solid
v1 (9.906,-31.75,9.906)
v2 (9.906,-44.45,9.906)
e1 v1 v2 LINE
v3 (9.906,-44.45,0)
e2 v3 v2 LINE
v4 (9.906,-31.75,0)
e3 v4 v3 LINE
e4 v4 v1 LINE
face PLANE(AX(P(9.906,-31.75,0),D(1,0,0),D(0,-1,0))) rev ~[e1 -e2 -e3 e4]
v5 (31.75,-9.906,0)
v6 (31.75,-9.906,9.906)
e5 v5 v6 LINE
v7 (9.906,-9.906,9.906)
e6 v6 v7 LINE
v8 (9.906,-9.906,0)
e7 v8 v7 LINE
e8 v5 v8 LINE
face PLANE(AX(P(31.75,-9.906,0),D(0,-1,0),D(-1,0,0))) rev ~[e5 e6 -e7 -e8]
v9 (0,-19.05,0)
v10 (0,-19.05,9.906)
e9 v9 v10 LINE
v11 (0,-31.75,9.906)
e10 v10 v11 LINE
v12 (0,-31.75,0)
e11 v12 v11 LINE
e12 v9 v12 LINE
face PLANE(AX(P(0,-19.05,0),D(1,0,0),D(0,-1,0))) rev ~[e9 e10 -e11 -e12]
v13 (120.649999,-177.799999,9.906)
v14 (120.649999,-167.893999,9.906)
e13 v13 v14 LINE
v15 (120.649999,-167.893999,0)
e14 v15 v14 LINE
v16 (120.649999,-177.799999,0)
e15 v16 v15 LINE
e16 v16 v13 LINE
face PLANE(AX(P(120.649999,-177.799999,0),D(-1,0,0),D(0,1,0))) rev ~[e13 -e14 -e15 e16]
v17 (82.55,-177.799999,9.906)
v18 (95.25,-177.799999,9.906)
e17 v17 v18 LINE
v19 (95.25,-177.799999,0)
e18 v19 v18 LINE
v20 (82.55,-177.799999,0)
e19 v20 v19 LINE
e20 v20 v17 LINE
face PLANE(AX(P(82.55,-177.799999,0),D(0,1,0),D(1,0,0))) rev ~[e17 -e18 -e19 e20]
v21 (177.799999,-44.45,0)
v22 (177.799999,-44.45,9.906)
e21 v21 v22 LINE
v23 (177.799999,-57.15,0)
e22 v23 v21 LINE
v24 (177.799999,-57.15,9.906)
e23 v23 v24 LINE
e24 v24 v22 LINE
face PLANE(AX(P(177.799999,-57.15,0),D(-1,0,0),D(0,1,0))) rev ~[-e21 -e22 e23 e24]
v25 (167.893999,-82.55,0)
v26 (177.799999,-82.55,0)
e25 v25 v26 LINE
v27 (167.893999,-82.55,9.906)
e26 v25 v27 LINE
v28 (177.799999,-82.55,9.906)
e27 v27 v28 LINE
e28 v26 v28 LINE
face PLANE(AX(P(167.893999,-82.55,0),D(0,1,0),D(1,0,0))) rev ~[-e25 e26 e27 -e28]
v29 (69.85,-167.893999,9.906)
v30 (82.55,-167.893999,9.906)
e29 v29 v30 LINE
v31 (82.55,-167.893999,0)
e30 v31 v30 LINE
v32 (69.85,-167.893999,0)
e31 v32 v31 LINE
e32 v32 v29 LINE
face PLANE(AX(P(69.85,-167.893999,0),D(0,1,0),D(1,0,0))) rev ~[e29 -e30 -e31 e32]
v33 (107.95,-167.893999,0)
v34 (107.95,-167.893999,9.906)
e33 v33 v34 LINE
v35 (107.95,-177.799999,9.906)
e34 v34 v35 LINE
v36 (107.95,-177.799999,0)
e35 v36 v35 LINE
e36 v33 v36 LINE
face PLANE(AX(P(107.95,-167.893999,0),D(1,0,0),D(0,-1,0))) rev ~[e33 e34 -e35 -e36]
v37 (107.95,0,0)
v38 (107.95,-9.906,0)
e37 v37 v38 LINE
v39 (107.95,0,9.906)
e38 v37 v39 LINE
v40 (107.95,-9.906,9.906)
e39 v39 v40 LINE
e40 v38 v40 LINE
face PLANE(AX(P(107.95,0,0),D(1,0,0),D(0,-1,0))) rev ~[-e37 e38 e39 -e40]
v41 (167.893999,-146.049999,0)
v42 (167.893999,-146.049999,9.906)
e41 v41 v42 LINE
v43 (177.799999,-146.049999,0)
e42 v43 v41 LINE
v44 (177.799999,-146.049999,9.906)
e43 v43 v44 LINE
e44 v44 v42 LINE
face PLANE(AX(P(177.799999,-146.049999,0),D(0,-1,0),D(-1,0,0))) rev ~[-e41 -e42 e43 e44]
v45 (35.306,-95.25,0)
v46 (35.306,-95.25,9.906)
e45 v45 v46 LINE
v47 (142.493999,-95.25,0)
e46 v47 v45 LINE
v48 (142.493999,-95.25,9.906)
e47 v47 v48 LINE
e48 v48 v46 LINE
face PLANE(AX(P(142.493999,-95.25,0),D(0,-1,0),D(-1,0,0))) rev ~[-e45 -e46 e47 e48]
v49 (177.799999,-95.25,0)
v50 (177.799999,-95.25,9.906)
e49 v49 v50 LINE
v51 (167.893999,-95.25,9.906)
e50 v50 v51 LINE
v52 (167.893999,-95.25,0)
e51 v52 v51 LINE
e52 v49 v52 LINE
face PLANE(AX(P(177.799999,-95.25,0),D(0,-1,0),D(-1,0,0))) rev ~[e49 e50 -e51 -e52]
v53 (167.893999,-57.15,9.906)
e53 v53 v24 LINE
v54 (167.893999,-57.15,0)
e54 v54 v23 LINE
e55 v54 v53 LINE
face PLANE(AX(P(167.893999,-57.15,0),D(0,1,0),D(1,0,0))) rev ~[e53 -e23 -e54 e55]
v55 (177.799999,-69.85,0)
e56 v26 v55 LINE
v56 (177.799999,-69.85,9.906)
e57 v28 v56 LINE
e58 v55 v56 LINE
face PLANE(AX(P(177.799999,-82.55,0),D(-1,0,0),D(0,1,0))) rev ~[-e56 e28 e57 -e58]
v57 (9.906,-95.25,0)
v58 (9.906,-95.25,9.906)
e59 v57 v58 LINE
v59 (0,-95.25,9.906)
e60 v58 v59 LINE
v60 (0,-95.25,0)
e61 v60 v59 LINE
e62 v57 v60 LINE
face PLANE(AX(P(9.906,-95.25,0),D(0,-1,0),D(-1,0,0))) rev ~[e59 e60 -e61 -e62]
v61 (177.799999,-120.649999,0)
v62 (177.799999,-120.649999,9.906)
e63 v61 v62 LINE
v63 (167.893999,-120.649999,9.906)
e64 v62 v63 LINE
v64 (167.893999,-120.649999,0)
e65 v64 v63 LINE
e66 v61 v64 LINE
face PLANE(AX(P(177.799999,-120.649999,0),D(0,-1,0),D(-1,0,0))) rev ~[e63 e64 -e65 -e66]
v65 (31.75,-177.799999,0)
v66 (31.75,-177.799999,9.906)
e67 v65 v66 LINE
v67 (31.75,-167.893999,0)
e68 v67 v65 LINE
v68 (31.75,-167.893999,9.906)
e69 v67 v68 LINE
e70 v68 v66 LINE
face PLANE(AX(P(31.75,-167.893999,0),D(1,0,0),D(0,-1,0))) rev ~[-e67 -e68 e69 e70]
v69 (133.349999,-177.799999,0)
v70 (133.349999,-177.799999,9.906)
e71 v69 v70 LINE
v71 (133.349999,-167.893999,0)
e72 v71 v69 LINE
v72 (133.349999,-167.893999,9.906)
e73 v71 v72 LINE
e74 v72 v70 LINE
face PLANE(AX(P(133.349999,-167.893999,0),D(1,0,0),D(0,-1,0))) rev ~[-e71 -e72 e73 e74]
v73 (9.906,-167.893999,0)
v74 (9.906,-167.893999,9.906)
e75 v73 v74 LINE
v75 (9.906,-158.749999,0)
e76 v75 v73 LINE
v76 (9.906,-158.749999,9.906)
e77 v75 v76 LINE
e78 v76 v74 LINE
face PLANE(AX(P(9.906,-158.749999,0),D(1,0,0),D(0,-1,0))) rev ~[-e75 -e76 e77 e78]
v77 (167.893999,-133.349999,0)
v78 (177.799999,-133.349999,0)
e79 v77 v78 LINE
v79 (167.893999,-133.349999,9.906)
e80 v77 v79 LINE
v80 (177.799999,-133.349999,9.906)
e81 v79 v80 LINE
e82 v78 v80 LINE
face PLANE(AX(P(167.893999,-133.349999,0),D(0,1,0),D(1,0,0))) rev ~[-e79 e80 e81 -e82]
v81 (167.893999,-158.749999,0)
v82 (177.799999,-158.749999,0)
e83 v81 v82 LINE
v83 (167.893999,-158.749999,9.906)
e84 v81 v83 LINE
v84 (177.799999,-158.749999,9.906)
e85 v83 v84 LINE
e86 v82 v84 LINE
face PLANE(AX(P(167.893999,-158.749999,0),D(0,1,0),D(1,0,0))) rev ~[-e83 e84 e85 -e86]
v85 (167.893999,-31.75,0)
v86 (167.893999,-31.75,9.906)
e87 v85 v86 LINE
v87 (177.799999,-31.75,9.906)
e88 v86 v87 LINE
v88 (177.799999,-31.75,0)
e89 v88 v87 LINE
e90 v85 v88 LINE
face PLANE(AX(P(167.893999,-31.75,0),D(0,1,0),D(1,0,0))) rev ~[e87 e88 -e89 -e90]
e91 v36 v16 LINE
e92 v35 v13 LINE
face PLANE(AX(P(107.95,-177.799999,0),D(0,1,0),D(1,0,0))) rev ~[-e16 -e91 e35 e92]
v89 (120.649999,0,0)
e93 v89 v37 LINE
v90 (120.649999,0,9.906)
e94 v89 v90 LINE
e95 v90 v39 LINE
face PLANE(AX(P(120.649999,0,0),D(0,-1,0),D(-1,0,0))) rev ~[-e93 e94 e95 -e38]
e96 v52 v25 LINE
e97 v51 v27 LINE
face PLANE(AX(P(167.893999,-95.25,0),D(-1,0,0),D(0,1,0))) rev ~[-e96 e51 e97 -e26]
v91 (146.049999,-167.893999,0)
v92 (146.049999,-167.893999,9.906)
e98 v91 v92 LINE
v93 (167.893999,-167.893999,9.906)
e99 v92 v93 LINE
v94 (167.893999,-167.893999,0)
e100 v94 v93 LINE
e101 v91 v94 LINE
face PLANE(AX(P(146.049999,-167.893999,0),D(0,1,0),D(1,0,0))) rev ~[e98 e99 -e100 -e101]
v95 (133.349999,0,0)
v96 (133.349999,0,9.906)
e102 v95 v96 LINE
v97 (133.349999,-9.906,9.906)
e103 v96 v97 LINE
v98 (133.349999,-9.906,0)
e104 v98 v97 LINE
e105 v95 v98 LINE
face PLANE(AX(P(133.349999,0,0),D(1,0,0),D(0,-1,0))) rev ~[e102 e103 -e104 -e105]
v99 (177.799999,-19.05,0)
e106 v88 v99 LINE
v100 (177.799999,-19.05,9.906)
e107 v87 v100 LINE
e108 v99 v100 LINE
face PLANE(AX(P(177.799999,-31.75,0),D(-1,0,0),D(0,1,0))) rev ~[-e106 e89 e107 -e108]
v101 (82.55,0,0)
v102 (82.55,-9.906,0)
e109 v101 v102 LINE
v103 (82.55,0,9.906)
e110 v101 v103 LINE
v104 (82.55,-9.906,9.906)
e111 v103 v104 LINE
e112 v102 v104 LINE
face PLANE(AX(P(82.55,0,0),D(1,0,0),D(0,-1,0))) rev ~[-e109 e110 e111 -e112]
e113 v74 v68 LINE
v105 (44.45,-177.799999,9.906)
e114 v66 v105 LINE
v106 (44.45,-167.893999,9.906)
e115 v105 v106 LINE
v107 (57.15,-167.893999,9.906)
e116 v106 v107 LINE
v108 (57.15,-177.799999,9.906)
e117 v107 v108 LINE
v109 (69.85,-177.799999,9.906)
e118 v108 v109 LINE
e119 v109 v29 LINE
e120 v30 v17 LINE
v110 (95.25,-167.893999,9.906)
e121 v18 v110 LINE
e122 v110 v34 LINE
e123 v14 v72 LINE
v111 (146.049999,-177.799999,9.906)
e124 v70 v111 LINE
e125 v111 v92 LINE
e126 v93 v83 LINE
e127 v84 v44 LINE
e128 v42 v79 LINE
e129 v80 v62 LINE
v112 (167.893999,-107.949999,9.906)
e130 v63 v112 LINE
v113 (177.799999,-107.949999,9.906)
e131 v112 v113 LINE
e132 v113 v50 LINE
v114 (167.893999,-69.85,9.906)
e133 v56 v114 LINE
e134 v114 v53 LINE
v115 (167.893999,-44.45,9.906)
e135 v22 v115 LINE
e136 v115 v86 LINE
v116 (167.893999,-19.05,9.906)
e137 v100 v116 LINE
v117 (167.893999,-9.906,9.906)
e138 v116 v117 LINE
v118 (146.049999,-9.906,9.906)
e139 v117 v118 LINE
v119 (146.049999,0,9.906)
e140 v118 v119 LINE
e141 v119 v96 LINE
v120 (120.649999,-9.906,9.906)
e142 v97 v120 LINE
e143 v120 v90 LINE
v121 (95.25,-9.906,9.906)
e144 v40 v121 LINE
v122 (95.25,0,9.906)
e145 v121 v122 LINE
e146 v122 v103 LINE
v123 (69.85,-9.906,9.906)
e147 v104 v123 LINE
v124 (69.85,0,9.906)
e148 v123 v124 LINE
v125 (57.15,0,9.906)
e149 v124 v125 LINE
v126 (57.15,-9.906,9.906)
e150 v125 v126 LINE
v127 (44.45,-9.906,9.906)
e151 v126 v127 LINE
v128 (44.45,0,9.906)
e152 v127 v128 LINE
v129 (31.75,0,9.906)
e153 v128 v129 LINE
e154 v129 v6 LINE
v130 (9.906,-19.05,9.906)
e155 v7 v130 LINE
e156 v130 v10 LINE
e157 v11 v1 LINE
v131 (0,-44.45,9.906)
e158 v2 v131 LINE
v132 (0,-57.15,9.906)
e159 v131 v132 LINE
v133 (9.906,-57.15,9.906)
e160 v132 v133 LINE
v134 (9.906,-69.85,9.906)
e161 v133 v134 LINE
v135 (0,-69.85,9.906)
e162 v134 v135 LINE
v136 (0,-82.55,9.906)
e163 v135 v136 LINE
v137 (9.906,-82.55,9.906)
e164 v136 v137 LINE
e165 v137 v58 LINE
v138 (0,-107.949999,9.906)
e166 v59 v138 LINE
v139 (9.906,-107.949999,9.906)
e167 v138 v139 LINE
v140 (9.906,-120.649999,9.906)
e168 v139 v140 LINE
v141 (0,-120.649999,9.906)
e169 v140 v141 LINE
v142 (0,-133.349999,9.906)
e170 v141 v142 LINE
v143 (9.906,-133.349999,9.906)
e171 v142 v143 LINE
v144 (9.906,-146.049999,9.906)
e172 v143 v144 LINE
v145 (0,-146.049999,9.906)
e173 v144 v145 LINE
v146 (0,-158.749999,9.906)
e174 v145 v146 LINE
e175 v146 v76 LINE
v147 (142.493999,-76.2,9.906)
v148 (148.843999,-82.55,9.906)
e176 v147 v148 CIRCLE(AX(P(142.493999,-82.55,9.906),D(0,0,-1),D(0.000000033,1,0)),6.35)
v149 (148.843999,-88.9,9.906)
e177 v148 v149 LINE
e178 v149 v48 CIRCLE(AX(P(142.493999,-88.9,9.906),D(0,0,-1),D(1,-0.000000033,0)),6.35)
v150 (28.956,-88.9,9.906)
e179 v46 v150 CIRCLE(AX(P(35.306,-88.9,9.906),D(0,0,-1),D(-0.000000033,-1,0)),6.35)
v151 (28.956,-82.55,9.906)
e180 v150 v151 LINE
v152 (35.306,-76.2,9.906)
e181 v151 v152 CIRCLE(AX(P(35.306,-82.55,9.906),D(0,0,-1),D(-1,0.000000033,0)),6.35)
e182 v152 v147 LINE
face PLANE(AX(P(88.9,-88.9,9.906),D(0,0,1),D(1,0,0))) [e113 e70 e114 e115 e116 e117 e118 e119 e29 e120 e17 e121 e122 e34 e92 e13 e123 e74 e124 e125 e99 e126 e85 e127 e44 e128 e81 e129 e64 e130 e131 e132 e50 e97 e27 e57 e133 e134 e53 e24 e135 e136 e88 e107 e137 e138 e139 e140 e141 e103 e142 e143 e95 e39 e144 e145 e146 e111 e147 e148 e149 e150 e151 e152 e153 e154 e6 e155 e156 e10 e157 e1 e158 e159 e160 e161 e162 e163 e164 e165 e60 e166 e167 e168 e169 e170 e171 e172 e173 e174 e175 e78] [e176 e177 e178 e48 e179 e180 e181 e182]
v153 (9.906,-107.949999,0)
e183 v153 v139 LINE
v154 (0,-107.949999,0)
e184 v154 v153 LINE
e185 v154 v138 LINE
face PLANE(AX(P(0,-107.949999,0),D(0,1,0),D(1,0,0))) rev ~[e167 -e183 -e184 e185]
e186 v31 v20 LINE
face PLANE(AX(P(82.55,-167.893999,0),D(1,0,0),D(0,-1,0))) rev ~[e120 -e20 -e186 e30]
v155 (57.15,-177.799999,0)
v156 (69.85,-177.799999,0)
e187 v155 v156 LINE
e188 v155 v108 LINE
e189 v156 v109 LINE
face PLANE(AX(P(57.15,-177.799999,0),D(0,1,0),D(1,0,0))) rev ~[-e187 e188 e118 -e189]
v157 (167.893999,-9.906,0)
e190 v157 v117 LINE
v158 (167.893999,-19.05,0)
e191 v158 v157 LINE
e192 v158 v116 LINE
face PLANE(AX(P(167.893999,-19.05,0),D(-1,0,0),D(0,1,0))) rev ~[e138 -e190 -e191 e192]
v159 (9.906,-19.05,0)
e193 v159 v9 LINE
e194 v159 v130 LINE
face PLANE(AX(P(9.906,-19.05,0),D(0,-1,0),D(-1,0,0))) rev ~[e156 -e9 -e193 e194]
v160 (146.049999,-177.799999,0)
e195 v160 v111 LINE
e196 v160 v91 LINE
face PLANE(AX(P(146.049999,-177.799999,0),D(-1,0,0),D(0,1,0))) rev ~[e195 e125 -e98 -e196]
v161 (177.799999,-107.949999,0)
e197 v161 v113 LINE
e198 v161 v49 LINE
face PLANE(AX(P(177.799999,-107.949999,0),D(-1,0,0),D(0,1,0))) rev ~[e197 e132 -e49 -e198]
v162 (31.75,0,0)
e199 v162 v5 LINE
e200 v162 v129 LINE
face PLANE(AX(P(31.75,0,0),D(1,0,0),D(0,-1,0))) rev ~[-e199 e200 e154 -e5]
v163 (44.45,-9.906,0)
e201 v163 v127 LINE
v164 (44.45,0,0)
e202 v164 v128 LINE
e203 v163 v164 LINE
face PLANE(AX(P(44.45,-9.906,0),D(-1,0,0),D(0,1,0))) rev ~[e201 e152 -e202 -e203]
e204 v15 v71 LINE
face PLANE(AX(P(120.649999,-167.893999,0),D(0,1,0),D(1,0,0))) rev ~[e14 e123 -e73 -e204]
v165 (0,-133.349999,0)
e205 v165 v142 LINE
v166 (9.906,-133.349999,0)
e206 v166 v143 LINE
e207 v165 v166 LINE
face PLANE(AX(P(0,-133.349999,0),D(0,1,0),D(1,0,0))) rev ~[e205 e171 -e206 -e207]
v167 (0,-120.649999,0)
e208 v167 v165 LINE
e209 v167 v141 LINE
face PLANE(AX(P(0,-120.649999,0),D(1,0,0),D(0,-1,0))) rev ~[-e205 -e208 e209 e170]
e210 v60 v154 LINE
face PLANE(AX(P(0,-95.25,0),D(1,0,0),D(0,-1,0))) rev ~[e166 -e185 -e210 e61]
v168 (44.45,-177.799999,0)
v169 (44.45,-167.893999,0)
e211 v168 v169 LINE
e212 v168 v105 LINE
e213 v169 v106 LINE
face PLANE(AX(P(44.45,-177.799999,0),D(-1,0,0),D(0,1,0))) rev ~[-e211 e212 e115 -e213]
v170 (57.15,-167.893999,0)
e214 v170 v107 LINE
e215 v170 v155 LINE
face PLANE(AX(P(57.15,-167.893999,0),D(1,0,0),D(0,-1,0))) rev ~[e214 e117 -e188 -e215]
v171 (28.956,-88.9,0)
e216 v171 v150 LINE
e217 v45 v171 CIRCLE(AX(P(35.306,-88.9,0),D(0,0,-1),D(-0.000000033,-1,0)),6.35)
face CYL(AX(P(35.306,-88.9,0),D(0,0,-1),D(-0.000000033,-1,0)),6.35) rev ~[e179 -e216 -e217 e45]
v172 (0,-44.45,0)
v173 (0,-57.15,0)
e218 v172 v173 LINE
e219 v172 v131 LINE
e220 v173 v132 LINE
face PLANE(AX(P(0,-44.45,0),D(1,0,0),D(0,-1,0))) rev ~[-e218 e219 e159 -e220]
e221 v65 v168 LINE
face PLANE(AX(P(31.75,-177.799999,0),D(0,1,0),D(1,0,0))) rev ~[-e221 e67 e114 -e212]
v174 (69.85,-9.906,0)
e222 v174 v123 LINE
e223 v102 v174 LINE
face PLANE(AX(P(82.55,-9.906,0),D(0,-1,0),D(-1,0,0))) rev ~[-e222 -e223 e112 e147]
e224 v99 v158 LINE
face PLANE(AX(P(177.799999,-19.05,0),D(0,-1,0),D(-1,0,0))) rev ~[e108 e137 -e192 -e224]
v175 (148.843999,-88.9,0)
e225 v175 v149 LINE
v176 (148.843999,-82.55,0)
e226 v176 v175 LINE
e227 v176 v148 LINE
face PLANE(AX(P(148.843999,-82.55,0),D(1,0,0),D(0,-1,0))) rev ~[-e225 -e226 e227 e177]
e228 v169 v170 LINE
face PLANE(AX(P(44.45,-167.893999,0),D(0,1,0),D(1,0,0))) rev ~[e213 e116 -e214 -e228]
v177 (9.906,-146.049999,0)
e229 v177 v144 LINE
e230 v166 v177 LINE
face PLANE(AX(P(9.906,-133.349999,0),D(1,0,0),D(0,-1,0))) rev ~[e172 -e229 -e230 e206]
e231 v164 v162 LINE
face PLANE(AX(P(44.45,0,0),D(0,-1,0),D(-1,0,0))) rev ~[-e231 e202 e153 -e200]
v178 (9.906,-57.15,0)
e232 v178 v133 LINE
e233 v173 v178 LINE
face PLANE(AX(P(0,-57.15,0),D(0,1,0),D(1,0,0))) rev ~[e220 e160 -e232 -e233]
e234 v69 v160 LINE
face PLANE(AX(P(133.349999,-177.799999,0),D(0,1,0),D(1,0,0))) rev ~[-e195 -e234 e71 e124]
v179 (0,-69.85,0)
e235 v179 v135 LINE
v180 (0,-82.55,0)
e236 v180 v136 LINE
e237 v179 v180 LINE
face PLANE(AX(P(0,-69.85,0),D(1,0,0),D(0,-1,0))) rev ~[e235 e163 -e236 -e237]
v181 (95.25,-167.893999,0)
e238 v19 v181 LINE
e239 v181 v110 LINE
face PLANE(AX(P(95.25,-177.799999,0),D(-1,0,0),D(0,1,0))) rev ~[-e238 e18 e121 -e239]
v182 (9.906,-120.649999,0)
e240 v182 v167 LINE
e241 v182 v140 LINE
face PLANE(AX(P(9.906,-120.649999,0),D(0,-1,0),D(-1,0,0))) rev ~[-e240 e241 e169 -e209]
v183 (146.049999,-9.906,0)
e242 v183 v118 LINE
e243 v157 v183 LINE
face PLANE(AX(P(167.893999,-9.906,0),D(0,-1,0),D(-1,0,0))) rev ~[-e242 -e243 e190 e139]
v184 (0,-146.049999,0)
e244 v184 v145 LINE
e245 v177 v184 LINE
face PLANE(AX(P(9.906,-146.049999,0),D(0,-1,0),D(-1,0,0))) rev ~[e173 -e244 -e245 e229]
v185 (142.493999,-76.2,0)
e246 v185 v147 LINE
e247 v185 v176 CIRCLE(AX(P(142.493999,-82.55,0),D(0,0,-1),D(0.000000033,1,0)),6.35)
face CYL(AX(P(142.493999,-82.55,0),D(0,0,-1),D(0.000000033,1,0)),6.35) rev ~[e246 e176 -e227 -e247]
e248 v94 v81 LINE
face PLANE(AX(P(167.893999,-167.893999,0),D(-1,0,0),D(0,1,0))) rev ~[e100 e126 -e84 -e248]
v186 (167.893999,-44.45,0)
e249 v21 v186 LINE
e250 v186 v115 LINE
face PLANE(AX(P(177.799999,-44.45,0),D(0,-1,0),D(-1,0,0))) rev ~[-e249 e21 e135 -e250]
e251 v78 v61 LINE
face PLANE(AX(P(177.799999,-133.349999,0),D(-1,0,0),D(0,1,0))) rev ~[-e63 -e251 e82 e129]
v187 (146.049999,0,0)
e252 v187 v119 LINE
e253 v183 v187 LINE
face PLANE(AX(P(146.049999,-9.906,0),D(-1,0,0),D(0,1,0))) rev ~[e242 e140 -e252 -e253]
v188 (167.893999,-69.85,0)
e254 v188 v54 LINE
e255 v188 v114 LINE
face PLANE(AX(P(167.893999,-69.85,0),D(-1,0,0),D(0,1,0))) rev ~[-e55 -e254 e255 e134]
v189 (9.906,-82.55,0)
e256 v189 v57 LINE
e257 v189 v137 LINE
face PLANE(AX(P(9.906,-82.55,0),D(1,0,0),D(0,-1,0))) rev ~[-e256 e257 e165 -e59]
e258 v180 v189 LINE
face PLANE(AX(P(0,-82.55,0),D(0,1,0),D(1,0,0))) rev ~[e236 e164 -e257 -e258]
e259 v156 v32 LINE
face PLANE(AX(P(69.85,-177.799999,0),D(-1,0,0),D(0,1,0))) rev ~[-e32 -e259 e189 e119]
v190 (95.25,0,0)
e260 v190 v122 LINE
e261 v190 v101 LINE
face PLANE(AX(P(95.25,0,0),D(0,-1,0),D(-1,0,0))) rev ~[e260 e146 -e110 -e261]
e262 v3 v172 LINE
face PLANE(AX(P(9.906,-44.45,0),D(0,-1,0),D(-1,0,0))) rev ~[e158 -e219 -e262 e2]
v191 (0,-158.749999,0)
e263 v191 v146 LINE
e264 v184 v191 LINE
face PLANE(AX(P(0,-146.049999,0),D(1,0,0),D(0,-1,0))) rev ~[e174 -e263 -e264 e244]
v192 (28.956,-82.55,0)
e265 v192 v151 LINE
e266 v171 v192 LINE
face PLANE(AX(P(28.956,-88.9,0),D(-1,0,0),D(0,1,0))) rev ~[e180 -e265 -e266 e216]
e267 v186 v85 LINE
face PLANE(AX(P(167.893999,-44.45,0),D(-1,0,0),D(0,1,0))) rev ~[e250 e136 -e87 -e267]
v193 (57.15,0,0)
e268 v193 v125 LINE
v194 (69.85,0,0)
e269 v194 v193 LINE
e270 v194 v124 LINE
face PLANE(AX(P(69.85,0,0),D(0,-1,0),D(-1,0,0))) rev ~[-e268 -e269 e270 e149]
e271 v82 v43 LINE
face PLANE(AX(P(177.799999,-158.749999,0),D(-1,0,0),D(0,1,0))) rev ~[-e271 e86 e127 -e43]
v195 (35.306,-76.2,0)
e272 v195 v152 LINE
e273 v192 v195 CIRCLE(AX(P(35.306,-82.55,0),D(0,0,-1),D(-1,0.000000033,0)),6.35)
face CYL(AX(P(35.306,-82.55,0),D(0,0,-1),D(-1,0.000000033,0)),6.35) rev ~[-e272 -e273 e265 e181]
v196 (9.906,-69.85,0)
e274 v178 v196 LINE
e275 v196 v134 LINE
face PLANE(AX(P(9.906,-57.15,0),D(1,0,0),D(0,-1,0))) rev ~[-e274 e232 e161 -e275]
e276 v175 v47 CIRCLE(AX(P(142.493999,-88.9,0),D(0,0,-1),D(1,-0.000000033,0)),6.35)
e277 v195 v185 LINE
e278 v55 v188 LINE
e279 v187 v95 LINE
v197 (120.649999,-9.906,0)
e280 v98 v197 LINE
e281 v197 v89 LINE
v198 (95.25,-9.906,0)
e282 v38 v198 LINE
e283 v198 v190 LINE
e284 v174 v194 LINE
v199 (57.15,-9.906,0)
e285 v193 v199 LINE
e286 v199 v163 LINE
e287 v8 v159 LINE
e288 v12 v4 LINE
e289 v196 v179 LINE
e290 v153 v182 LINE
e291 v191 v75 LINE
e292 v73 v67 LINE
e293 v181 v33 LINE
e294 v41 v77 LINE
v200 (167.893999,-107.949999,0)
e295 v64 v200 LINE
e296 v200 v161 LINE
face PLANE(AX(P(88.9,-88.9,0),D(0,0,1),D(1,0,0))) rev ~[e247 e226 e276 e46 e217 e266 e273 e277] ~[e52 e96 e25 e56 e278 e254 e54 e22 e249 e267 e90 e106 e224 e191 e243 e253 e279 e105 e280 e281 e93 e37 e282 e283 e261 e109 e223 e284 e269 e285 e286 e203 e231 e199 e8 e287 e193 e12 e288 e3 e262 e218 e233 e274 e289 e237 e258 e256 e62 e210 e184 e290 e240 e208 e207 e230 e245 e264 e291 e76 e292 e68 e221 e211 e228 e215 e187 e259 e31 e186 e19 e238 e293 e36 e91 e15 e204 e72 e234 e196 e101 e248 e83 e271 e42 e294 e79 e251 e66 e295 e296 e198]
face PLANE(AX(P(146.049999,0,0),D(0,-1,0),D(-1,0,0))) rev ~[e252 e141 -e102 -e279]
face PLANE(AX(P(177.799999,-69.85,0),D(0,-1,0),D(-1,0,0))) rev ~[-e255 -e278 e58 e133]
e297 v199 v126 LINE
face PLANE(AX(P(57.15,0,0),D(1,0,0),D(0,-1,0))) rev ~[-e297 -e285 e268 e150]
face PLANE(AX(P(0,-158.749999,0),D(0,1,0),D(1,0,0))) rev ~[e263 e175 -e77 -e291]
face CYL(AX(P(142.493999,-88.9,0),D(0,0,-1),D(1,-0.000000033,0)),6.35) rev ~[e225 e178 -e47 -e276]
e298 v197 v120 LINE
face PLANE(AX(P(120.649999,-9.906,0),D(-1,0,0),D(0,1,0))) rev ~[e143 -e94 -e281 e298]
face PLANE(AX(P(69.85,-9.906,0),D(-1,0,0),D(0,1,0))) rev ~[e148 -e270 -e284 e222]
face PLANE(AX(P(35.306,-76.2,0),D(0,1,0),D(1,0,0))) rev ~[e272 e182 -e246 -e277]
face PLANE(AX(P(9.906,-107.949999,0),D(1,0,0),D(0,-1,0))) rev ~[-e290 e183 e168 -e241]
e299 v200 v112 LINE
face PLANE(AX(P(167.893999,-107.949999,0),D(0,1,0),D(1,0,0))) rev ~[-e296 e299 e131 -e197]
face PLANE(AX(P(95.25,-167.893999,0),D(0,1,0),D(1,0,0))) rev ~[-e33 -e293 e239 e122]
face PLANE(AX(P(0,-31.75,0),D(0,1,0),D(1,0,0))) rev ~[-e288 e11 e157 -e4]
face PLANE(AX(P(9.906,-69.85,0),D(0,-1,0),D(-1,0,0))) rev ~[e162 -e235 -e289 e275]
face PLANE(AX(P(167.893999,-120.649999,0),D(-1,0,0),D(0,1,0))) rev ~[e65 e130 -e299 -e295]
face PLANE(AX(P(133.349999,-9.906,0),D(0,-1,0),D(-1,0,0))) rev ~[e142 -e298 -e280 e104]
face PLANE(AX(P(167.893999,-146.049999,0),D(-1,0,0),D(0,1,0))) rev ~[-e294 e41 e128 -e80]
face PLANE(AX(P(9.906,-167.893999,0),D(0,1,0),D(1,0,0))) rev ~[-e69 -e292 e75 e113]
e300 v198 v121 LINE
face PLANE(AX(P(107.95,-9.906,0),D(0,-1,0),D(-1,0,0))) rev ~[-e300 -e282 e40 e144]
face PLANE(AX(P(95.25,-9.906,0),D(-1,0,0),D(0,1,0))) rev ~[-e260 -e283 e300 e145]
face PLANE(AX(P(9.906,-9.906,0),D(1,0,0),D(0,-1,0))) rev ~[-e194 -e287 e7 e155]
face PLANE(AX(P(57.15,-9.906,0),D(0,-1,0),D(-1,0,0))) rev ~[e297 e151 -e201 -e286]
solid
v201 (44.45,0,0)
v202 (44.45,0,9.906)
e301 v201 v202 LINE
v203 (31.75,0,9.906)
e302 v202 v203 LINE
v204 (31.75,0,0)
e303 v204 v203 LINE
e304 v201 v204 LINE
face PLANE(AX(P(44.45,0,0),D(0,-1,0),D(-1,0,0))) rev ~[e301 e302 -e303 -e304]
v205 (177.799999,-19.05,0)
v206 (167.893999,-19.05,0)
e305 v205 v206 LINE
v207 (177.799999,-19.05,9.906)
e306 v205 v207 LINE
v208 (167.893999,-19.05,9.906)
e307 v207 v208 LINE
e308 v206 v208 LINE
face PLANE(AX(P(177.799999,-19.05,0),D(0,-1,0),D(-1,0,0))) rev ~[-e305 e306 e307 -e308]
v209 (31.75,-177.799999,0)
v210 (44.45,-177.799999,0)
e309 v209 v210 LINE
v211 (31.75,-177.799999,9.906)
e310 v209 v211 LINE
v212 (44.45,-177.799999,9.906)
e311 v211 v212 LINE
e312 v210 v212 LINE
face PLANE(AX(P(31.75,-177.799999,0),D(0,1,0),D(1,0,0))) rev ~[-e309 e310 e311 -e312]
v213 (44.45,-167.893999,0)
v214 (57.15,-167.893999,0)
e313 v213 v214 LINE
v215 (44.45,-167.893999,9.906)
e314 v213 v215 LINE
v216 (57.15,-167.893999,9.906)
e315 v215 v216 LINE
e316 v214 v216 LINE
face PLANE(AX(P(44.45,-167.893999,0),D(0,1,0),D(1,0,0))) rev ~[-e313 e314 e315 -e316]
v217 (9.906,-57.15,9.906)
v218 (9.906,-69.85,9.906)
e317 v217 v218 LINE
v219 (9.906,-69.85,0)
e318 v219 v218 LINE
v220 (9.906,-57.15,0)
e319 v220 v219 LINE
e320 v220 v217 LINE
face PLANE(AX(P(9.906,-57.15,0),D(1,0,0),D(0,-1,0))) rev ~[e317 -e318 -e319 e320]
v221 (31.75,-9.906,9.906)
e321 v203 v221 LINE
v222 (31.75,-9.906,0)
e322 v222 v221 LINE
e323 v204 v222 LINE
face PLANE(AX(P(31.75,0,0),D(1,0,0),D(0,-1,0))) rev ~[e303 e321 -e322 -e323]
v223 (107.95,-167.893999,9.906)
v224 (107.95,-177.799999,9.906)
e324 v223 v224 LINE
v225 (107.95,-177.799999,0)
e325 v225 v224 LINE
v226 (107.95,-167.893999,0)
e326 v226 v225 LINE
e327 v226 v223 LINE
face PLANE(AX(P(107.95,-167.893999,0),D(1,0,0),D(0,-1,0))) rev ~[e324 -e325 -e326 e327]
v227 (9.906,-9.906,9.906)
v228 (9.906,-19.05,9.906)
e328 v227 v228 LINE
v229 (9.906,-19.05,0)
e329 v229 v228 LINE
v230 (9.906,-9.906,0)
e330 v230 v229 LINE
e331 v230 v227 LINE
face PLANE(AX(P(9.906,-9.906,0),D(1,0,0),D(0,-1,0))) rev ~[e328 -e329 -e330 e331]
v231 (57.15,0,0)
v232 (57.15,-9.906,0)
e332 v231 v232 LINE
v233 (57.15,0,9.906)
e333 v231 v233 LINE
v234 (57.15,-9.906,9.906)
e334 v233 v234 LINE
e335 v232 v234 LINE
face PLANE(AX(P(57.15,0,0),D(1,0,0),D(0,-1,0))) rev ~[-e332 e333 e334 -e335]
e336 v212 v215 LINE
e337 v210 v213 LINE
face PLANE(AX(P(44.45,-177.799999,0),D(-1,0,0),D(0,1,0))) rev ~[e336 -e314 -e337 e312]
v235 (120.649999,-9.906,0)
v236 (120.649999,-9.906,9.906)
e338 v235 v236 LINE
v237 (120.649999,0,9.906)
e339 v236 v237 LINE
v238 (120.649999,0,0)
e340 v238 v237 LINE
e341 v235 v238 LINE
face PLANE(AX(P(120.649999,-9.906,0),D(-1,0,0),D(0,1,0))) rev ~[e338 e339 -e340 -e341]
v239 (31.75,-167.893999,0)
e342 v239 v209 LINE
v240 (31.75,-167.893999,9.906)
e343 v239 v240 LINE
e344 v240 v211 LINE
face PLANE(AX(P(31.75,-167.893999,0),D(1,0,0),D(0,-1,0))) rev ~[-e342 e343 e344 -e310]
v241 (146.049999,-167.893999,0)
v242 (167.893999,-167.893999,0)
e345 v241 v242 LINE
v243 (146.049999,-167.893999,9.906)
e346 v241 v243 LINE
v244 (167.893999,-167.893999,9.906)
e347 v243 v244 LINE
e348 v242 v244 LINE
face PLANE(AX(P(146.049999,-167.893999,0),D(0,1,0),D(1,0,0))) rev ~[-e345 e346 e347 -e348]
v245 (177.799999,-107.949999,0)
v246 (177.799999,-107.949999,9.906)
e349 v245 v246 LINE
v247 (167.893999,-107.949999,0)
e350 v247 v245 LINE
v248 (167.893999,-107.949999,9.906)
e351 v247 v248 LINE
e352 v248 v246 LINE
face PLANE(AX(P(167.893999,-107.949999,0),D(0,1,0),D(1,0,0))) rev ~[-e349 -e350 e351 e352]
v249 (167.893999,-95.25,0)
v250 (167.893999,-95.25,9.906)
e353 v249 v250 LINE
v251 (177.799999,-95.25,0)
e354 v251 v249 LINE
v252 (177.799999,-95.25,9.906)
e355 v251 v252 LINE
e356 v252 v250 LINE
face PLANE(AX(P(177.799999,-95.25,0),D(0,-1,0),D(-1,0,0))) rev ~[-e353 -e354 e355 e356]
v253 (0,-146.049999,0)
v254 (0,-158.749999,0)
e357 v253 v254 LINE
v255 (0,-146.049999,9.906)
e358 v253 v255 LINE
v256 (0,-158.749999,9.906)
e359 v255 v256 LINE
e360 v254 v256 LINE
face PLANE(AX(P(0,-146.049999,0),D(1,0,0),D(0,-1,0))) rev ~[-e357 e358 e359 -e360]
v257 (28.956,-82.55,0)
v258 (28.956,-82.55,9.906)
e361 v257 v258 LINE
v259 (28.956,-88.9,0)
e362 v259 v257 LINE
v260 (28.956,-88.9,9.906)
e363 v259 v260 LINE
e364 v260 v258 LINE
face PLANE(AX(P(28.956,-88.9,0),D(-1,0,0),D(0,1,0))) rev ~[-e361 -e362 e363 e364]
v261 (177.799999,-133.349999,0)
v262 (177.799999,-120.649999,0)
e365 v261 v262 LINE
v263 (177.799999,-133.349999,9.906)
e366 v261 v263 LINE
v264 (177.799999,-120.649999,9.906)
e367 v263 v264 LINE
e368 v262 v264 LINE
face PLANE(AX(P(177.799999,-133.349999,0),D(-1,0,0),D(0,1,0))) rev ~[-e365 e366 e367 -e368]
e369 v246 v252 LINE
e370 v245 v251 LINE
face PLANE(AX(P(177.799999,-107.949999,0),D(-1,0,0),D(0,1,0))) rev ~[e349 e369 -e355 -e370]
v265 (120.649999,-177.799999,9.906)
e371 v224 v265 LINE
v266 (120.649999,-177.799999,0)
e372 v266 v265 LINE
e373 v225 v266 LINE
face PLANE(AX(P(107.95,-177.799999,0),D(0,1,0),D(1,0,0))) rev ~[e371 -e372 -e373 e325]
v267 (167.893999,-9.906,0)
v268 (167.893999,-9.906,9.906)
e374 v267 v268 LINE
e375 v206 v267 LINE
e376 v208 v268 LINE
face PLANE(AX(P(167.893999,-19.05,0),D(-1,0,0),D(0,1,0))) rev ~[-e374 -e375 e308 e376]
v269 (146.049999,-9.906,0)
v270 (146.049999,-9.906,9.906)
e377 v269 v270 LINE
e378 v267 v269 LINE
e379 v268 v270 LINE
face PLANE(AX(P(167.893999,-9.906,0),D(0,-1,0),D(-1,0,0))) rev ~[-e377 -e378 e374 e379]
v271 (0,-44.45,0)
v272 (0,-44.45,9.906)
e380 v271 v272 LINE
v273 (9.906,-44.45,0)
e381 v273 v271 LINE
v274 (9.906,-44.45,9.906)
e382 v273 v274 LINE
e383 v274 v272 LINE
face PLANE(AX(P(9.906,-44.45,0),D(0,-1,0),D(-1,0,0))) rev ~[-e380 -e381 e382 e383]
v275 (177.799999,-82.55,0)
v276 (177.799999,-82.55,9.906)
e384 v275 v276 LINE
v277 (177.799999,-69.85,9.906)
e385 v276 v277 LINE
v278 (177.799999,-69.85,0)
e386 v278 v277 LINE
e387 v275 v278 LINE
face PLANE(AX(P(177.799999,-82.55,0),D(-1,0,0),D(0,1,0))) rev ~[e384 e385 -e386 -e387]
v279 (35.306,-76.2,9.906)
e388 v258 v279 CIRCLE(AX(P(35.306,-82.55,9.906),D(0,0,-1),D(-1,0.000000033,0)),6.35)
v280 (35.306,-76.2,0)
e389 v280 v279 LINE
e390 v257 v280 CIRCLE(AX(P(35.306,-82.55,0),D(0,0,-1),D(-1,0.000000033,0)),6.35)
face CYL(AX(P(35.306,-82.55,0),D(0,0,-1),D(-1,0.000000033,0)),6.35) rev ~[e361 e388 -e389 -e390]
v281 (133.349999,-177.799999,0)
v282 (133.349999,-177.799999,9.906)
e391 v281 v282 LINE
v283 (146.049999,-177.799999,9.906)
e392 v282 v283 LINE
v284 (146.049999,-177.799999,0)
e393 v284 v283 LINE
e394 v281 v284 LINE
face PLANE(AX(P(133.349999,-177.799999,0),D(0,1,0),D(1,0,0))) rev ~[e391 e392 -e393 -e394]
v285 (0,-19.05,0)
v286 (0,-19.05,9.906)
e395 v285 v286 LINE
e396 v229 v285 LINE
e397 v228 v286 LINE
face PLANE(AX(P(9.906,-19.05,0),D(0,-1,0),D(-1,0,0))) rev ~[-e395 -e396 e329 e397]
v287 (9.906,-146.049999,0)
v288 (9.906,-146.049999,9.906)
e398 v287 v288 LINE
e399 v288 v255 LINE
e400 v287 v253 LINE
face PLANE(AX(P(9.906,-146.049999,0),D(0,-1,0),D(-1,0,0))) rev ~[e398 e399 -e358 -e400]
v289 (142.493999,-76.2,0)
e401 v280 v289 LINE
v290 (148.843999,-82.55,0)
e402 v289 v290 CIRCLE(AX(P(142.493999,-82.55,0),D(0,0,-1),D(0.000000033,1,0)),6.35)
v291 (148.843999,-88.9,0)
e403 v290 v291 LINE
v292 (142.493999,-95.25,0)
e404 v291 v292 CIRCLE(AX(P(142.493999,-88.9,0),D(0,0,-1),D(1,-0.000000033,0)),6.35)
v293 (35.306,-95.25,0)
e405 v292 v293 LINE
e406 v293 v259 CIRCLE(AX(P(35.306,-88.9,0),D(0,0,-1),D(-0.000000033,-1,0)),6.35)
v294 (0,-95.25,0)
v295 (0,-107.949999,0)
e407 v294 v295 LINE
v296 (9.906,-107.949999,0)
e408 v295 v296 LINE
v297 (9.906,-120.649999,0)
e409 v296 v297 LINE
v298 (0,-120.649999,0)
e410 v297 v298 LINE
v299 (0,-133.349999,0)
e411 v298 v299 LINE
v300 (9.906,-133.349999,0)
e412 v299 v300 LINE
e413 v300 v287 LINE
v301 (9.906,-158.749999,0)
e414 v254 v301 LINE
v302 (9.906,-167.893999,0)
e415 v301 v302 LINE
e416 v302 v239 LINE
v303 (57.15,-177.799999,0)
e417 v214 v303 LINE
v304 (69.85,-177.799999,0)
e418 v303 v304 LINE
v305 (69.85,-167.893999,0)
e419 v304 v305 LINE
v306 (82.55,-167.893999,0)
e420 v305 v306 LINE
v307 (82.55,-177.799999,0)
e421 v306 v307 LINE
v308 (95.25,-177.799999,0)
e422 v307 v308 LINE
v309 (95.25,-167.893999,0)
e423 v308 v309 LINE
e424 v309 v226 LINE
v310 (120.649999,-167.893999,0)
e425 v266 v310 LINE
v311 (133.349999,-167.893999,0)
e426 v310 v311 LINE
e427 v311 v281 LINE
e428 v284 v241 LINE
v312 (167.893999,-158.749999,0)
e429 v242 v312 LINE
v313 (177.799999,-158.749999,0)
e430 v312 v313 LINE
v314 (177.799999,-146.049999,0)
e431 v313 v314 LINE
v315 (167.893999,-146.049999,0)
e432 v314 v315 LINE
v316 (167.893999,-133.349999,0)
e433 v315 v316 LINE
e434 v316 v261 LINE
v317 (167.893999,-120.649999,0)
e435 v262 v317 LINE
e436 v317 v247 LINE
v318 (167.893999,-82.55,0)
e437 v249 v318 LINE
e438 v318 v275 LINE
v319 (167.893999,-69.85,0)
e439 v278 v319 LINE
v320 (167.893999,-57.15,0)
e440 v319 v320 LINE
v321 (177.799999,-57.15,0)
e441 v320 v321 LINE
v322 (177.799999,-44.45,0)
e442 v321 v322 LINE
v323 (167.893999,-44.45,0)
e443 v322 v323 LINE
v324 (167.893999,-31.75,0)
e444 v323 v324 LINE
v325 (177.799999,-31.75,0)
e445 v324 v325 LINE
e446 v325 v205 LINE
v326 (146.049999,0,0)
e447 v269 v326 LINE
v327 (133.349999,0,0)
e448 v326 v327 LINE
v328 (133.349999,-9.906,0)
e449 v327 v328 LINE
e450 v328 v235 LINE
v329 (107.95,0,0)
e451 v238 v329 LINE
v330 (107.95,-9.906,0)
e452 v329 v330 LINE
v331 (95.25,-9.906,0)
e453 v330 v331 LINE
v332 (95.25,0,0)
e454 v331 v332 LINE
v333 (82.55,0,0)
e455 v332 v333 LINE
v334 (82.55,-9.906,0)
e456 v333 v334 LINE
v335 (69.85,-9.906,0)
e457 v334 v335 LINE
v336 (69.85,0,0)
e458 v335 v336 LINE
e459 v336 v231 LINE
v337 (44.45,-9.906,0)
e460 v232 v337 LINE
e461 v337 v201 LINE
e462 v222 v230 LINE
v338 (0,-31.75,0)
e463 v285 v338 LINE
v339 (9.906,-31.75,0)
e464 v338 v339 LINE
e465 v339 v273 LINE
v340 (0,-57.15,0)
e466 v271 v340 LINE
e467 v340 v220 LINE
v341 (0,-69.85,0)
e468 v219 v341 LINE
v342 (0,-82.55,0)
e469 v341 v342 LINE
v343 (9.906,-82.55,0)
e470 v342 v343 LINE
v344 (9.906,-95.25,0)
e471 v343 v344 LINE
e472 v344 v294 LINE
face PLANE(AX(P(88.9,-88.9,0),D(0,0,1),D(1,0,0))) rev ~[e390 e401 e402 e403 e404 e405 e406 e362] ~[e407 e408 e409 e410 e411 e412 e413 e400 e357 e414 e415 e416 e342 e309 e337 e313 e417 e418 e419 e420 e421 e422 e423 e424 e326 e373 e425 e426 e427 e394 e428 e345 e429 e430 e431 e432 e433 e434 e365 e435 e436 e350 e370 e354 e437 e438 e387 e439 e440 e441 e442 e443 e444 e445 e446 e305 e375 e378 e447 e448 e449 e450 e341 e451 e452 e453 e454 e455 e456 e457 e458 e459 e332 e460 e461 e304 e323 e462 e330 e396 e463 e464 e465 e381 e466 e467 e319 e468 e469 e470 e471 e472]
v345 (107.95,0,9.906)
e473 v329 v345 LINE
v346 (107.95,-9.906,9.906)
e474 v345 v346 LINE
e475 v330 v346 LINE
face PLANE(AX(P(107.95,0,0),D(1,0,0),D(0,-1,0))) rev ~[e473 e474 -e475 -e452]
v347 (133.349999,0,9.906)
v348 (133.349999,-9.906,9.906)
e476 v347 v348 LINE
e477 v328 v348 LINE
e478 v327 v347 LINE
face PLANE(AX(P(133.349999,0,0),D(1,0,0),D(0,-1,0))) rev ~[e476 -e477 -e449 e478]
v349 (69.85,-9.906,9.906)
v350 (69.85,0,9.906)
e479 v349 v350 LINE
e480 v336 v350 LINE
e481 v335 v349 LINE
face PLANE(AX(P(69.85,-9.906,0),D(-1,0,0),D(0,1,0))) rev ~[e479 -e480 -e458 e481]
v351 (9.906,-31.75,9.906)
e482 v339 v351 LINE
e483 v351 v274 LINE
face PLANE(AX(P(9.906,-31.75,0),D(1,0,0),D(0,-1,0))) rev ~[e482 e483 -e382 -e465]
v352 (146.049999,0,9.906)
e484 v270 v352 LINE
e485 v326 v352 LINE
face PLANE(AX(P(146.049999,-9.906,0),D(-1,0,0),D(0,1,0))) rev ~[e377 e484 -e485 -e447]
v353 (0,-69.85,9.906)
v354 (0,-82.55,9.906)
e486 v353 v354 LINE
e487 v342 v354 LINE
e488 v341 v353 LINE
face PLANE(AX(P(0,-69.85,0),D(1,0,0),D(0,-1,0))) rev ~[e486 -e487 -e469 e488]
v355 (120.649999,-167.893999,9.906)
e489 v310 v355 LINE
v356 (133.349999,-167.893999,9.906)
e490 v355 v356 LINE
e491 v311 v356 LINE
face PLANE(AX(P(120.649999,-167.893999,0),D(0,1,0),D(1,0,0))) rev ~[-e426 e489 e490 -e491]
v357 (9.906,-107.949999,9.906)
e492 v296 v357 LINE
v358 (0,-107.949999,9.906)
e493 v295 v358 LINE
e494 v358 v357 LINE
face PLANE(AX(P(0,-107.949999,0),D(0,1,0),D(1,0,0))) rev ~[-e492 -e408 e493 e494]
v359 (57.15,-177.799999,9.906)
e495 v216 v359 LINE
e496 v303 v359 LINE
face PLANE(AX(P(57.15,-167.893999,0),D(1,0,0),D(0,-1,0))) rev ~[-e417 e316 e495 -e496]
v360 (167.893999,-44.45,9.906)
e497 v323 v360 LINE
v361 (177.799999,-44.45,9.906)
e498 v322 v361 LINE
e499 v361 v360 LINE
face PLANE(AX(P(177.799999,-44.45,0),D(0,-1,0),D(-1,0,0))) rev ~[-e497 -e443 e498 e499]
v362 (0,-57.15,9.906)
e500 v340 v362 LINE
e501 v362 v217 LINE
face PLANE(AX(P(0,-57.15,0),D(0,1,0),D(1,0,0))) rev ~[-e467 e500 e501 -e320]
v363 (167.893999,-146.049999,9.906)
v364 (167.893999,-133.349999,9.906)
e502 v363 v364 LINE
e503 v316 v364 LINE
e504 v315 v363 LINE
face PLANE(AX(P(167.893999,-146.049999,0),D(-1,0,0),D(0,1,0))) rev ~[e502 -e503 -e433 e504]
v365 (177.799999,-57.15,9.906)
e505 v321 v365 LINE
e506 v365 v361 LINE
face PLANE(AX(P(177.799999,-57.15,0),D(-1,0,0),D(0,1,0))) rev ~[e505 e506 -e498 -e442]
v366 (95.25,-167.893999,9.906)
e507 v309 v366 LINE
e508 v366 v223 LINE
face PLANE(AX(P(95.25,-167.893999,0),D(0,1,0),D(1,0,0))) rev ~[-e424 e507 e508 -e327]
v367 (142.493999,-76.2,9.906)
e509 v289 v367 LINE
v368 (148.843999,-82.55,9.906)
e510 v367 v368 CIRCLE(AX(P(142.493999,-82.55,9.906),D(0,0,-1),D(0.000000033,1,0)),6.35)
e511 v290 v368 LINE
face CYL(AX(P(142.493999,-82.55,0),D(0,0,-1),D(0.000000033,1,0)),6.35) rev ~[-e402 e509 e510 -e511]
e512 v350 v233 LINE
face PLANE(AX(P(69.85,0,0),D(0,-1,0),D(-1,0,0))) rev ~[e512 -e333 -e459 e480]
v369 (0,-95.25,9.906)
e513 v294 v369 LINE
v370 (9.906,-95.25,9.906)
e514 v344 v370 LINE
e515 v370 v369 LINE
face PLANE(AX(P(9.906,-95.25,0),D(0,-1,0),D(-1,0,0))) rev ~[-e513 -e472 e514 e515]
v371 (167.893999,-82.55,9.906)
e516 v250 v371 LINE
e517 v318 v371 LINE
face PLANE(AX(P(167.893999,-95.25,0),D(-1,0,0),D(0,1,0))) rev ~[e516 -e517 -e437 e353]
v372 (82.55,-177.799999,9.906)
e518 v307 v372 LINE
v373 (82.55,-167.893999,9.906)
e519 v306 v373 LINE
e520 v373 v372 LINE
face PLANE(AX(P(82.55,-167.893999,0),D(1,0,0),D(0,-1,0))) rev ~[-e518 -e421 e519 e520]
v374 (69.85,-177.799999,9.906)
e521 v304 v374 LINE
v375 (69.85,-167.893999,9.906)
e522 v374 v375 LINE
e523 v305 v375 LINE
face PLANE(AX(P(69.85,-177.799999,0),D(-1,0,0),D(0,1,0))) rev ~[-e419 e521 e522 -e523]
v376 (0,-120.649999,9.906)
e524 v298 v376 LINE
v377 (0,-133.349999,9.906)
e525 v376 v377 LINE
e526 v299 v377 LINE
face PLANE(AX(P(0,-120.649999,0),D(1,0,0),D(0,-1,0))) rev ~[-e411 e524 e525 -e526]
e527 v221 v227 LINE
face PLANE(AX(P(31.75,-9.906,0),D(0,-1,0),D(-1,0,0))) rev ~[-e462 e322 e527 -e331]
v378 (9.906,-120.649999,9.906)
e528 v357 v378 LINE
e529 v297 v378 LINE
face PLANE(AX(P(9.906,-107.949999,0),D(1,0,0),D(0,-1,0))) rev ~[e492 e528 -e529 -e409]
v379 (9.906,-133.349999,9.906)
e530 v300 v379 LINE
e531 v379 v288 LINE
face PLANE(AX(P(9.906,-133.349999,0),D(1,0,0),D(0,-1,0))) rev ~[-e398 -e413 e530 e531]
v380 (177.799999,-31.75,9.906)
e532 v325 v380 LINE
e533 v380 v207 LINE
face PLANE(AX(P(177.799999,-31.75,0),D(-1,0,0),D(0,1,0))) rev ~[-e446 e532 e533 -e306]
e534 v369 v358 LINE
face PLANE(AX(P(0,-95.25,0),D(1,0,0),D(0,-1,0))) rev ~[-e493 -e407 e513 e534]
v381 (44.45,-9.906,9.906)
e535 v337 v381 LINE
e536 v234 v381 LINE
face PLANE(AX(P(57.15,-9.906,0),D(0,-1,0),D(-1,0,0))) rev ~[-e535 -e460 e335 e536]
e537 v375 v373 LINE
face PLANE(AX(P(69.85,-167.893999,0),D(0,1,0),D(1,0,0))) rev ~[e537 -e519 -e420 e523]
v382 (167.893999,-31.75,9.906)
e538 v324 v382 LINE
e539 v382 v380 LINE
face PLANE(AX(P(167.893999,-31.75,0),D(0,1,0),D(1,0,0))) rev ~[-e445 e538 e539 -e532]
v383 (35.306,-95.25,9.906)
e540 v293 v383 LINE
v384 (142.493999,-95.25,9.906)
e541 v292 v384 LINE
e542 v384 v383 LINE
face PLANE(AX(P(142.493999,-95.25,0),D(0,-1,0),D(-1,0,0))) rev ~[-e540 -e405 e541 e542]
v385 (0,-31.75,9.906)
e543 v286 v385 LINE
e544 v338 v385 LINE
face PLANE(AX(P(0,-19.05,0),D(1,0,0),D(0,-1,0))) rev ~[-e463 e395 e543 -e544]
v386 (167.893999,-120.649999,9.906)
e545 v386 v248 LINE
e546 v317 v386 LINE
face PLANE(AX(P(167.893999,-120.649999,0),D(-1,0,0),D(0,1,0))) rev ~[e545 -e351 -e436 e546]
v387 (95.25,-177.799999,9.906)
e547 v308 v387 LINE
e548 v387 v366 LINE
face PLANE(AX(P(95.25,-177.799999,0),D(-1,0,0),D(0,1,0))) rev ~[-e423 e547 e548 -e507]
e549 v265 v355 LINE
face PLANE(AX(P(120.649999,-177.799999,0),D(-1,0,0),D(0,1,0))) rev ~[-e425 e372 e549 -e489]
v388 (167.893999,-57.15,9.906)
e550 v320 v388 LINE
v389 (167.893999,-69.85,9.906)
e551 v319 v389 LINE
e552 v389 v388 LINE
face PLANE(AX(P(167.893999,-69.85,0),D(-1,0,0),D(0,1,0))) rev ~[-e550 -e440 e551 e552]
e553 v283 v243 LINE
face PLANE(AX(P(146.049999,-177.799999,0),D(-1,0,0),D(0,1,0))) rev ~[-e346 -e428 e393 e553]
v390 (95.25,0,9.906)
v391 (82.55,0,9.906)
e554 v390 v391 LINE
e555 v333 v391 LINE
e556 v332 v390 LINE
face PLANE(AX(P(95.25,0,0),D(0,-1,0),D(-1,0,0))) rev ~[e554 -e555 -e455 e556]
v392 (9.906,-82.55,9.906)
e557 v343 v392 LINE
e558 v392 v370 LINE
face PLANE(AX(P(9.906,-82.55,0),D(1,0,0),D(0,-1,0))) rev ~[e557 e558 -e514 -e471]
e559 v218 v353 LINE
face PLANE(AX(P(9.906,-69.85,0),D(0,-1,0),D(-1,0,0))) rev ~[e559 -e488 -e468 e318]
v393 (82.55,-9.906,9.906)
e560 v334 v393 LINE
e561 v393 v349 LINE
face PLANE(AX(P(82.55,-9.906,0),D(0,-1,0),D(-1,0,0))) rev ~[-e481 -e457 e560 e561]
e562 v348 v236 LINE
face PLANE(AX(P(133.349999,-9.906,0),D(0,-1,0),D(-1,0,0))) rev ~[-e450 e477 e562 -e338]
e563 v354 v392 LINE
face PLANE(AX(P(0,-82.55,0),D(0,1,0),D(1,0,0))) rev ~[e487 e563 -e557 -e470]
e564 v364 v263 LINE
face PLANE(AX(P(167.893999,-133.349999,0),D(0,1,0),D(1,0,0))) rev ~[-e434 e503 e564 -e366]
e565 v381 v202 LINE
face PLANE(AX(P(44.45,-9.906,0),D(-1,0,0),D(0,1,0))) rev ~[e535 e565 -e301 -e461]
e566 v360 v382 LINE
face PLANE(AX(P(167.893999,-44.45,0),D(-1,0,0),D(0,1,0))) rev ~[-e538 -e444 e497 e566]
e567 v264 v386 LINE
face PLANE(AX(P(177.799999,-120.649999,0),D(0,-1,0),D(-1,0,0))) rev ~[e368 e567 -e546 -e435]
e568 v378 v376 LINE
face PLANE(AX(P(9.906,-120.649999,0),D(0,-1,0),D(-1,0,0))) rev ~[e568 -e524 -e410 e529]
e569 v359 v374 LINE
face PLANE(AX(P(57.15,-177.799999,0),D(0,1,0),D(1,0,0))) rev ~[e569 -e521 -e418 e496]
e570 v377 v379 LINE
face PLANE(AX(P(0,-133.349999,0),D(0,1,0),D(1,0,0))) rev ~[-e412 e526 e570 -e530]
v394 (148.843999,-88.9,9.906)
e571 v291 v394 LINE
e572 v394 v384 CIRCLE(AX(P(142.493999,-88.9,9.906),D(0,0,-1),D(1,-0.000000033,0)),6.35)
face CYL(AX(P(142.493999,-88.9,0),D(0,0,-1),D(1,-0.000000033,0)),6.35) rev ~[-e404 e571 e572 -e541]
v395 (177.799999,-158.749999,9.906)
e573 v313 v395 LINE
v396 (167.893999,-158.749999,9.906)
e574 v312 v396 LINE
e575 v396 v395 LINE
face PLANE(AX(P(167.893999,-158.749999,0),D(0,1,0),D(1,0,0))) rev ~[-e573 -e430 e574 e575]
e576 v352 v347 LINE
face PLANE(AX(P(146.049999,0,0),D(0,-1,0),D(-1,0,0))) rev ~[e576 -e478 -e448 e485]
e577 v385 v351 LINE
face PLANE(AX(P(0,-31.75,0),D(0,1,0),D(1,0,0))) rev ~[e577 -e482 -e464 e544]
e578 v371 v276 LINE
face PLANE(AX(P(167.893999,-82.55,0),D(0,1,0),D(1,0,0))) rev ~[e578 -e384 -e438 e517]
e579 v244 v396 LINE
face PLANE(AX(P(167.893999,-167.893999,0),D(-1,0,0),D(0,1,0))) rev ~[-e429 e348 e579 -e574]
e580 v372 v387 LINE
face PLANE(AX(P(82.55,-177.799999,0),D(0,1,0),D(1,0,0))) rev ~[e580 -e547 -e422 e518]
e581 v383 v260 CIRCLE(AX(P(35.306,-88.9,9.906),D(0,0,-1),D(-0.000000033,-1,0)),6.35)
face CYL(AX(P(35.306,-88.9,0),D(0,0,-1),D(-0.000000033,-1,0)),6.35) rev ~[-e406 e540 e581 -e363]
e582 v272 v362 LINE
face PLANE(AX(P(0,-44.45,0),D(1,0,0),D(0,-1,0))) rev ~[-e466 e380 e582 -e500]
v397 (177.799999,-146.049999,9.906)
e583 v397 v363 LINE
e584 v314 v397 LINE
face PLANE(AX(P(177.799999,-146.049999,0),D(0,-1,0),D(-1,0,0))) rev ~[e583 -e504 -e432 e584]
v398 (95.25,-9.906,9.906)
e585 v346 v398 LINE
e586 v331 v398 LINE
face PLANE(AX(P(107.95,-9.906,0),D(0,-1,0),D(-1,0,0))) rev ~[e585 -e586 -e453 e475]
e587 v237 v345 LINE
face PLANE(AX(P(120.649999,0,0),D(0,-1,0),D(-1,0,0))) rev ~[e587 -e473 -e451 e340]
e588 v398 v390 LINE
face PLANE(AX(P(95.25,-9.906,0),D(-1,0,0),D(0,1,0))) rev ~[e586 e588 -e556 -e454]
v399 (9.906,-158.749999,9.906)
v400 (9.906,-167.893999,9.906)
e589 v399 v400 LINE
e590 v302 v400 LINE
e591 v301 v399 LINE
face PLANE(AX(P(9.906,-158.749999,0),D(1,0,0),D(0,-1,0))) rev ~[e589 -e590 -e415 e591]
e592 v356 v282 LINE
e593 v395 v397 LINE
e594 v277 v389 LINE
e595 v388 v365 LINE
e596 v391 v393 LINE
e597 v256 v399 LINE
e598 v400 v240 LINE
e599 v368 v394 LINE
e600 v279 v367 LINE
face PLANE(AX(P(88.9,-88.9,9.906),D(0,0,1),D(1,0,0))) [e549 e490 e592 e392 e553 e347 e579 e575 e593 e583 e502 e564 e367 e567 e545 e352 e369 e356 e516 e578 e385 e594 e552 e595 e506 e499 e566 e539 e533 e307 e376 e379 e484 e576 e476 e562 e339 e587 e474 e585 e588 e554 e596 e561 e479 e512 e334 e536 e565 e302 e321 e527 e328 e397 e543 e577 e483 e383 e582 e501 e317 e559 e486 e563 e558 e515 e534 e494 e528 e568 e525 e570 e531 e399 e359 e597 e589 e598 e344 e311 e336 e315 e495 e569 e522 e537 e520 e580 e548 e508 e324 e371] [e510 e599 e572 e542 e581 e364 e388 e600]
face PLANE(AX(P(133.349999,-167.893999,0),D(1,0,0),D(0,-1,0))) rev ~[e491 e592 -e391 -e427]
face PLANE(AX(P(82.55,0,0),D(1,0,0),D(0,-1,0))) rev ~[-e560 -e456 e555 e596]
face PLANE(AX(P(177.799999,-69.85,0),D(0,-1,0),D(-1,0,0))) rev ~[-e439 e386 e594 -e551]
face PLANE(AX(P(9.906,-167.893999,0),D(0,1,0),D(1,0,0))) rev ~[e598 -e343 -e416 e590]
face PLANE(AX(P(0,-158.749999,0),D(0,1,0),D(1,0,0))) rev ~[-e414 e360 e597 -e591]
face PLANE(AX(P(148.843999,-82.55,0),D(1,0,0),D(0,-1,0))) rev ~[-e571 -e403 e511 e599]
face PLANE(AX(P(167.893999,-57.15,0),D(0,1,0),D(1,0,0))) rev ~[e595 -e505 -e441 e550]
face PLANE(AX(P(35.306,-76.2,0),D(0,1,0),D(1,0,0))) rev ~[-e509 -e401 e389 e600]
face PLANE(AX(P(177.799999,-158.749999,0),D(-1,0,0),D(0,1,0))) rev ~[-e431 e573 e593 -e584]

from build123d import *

# Parameters (mm, degrees)
F1_DEPTH = 9.906
F2_DEPTH = 9.906


with BuildPart() as f1:
    # F0 (on Top) → F1 (new body)
    with BuildSketch(Plane.XY):
        Polygon((44.45, 0), (31.75, 0), (31.75, -9.906), (9.906, -9.906), (9.906, -19.05), (0, -19.05), (0, -31.75), (9.906, -31.75), (9.906, -44.45), (0, -44.45), (0, -57.15), (9.906, -57.15), (9.906, -69.85), (0, -69.85), (0, -82.55), (9.906, -82.55), (9.906, -95.25), (0, -95.25), (0, -107.949999), (9.906, -107.949999), (9.906, -120.649999), (0, -120.649999), (0, -133.349999), (9.906, -133.349999), (9.906, -146.049999), (0, -146.049999), (0, -158.749999), (9.906, -158.749999), (9.906, -167.893999), (31.75, -167.893999), (31.75, -177.799999), (44.45, -177.799999), (44.45, -167.893999), (57.15, -167.893999), (57.15, -177.799999), (69.85, -177.799999), (69.85, -167.893999), (82.55, -167.893999), (82.55, -177.799999), (95.25, -177.799999), (95.25, -167.893999), (107.95, -167.893999), (107.95, -177.799999), (120.649999, -177.799999), (120.649999, -167.893999), (133.349999, -167.893999), (133.349999, -177.799999), (146.049999, -177.799999), (146.049999, -167.893999), (167.893999, -167.893999), (167.893999, -158.749999), (177.799999, -158.749999), (177.799999, -146.049999), (167.893999, -146.049999), (167.893999, -133.349999), (177.799999, -133.349999), (177.799999, -120.649999), (167.893999, -120.649999), (167.893999, -107.949999), (177.799999, -107.949999), (177.799999, -95.25), (167.893999, -95.25), (167.893999, -82.55), (177.799999, -82.55), (177.799999, -69.85), (167.893999, -69.85), (167.893999, -57.15), (177.799999, -57.15), (177.799999, -44.45), (167.893999, -44.45), (167.893999, -31.75), (177.799999, -31.75), (177.799999, -19.05), (167.893999, -19.05), (167.893999, -9.906), (146.049999, -9.906), (146.049999, 0), (133.349999, 0), (133.349999, -9.906), (120.649999, -9.906), (120.649999, 0), (107.95, 0), (107.95, -9.906), (95.25, -9.906), (95.25, 0), (82.55, 0), (82.55, -9.906), (69.85, -9.906), (69.85, 0), (57.15, 0), (57.15, -9.906), (44.45, -9.906), align=None)
        with BuildLine():
            ThreePointArc((28.956, -82.55), (30.815872, -78.059872), (35.306, -76.2))
            Line((35.306, -76.2), (142.493999, -76.2))
            ThreePointArc((142.493999, -76.2), (146.984127, -78.059872), (148.843999, -82.55))
            Line((148.843999, -82.55), (148.843999, -88.9))
            ThreePointArc((148.843999, -88.9), (146.984127, -93.390128), (142.493999, -95.25))
            Line((142.493999, -95.25), (35.306, -95.25))
            ThreePointArc((35.306, -95.25), (30.815872, -93.390128), (28.956, -88.9))
            Line((28.956, -88.9), (28.956, -82.55))
        make_face(mode=Mode.SUBTRACT)
    extrude(amount=F1_DEPTH)


with BuildPart() as f2:
    # F0 (on Top) → F2 (new body)
    with BuildSketch(Plane.XY):
        Polygon((44.45, 0), (31.75, 0), (31.75, -9.906), (9.906, -9.906), (9.906, -19.05), (0, -19.05), (0, -31.75), (9.906, -31.75), (9.906, -44.45), (0, -44.45), (0, -57.15), (9.906, -57.15), (9.906, -69.85), (0, -69.85), (0, -82.55), (9.906, -82.55), (9.906, -95.25), (0, -95.25), (0, -107.949999), (9.906, -107.949999), (9.906, -120.649999), (0, -120.649999), (0, -133.349999), (9.906, -133.349999), (9.906, -146.049999), (0, -146.049999), (0, -158.749999), (9.906, -158.749999), (9.906, -167.893999), (31.75, -167.893999), (31.75, -177.799999), (44.45, -177.799999), (44.45, -167.893999), (57.15, -167.893999), (57.15, -177.799999), (69.85, -177.799999), (69.85, -167.893999), (82.55, -167.893999), (82.55, -177.799999), (95.25, -177.799999), (95.25, -167.893999), (107.95, -167.893999), (107.95, -177.799999), (120.649999, -177.799999), (120.649999, -167.893999), (133.349999, -167.893999), (133.349999, -177.799999), (146.049999, -177.799999), (146.049999, -167.893999), (167.893999, -167.893999), (167.893999, -158.749999), (177.799999, -158.749999), (177.799999, -146.049999), (167.893999, -146.049999), (167.893999, -133.349999), (177.799999, -133.349999), (177.799999, -120.649999), (167.893999, -120.649999), (167.893999, -107.949999), (177.799999, -107.949999), (177.799999, -95.25), (167.893999, -95.25), (167.893999, -82.55), (177.799999, -82.55), (177.799999, -69.85), (167.893999, -69.85), (167.893999, -57.15), (177.799999, -57.15), (177.799999, -44.45), (167.893999, -44.45), (167.893999, -31.75), (177.799999, -31.75), (177.799999, -19.05), (167.893999, -19.05), (167.893999, -9.906), (146.049999, -9.906), (146.049999, 0), (133.349999, 0), (133.349999, -9.906), (120.649999, -9.906), (120.649999, 0), (107.95, 0), (107.95, -9.906), (95.25, -9.906), (95.25, 0), (82.55, 0), (82.55, -9.906), (69.85, -9.906), (69.85, 0), (57.15, 0), (57.15, -9.906), (44.45, -9.906), align=None)
        with BuildLine():
            ThreePointArc((28.956, -82.55), (30.815872, -78.059872), (35.306, -76.2))
            Line((35.306, -76.2), (142.493999, -76.2))
            ThreePointArc((142.493999, -76.2), (146.984127, -78.059872), (148.843999, -82.55))
            Line((148.843999, -82.55), (148.843999, -88.9))
            ThreePointArc((148.843999, -88.9), (146.984127, -93.390128), (142.493999, -95.25))
            Line((142.493999, -95.25), (35.306, -95.25))
            ThreePointArc((35.306, -95.25), (30.815872, -93.390128), (28.956, -88.9))
            Line((28.956, -88.9), (28.956, -82.55))
        make_face(mode=Mode.SUBTRACT)
    extrude(amount=F2_DEPTH)


solid = Compound([f1.part, f2.part])
